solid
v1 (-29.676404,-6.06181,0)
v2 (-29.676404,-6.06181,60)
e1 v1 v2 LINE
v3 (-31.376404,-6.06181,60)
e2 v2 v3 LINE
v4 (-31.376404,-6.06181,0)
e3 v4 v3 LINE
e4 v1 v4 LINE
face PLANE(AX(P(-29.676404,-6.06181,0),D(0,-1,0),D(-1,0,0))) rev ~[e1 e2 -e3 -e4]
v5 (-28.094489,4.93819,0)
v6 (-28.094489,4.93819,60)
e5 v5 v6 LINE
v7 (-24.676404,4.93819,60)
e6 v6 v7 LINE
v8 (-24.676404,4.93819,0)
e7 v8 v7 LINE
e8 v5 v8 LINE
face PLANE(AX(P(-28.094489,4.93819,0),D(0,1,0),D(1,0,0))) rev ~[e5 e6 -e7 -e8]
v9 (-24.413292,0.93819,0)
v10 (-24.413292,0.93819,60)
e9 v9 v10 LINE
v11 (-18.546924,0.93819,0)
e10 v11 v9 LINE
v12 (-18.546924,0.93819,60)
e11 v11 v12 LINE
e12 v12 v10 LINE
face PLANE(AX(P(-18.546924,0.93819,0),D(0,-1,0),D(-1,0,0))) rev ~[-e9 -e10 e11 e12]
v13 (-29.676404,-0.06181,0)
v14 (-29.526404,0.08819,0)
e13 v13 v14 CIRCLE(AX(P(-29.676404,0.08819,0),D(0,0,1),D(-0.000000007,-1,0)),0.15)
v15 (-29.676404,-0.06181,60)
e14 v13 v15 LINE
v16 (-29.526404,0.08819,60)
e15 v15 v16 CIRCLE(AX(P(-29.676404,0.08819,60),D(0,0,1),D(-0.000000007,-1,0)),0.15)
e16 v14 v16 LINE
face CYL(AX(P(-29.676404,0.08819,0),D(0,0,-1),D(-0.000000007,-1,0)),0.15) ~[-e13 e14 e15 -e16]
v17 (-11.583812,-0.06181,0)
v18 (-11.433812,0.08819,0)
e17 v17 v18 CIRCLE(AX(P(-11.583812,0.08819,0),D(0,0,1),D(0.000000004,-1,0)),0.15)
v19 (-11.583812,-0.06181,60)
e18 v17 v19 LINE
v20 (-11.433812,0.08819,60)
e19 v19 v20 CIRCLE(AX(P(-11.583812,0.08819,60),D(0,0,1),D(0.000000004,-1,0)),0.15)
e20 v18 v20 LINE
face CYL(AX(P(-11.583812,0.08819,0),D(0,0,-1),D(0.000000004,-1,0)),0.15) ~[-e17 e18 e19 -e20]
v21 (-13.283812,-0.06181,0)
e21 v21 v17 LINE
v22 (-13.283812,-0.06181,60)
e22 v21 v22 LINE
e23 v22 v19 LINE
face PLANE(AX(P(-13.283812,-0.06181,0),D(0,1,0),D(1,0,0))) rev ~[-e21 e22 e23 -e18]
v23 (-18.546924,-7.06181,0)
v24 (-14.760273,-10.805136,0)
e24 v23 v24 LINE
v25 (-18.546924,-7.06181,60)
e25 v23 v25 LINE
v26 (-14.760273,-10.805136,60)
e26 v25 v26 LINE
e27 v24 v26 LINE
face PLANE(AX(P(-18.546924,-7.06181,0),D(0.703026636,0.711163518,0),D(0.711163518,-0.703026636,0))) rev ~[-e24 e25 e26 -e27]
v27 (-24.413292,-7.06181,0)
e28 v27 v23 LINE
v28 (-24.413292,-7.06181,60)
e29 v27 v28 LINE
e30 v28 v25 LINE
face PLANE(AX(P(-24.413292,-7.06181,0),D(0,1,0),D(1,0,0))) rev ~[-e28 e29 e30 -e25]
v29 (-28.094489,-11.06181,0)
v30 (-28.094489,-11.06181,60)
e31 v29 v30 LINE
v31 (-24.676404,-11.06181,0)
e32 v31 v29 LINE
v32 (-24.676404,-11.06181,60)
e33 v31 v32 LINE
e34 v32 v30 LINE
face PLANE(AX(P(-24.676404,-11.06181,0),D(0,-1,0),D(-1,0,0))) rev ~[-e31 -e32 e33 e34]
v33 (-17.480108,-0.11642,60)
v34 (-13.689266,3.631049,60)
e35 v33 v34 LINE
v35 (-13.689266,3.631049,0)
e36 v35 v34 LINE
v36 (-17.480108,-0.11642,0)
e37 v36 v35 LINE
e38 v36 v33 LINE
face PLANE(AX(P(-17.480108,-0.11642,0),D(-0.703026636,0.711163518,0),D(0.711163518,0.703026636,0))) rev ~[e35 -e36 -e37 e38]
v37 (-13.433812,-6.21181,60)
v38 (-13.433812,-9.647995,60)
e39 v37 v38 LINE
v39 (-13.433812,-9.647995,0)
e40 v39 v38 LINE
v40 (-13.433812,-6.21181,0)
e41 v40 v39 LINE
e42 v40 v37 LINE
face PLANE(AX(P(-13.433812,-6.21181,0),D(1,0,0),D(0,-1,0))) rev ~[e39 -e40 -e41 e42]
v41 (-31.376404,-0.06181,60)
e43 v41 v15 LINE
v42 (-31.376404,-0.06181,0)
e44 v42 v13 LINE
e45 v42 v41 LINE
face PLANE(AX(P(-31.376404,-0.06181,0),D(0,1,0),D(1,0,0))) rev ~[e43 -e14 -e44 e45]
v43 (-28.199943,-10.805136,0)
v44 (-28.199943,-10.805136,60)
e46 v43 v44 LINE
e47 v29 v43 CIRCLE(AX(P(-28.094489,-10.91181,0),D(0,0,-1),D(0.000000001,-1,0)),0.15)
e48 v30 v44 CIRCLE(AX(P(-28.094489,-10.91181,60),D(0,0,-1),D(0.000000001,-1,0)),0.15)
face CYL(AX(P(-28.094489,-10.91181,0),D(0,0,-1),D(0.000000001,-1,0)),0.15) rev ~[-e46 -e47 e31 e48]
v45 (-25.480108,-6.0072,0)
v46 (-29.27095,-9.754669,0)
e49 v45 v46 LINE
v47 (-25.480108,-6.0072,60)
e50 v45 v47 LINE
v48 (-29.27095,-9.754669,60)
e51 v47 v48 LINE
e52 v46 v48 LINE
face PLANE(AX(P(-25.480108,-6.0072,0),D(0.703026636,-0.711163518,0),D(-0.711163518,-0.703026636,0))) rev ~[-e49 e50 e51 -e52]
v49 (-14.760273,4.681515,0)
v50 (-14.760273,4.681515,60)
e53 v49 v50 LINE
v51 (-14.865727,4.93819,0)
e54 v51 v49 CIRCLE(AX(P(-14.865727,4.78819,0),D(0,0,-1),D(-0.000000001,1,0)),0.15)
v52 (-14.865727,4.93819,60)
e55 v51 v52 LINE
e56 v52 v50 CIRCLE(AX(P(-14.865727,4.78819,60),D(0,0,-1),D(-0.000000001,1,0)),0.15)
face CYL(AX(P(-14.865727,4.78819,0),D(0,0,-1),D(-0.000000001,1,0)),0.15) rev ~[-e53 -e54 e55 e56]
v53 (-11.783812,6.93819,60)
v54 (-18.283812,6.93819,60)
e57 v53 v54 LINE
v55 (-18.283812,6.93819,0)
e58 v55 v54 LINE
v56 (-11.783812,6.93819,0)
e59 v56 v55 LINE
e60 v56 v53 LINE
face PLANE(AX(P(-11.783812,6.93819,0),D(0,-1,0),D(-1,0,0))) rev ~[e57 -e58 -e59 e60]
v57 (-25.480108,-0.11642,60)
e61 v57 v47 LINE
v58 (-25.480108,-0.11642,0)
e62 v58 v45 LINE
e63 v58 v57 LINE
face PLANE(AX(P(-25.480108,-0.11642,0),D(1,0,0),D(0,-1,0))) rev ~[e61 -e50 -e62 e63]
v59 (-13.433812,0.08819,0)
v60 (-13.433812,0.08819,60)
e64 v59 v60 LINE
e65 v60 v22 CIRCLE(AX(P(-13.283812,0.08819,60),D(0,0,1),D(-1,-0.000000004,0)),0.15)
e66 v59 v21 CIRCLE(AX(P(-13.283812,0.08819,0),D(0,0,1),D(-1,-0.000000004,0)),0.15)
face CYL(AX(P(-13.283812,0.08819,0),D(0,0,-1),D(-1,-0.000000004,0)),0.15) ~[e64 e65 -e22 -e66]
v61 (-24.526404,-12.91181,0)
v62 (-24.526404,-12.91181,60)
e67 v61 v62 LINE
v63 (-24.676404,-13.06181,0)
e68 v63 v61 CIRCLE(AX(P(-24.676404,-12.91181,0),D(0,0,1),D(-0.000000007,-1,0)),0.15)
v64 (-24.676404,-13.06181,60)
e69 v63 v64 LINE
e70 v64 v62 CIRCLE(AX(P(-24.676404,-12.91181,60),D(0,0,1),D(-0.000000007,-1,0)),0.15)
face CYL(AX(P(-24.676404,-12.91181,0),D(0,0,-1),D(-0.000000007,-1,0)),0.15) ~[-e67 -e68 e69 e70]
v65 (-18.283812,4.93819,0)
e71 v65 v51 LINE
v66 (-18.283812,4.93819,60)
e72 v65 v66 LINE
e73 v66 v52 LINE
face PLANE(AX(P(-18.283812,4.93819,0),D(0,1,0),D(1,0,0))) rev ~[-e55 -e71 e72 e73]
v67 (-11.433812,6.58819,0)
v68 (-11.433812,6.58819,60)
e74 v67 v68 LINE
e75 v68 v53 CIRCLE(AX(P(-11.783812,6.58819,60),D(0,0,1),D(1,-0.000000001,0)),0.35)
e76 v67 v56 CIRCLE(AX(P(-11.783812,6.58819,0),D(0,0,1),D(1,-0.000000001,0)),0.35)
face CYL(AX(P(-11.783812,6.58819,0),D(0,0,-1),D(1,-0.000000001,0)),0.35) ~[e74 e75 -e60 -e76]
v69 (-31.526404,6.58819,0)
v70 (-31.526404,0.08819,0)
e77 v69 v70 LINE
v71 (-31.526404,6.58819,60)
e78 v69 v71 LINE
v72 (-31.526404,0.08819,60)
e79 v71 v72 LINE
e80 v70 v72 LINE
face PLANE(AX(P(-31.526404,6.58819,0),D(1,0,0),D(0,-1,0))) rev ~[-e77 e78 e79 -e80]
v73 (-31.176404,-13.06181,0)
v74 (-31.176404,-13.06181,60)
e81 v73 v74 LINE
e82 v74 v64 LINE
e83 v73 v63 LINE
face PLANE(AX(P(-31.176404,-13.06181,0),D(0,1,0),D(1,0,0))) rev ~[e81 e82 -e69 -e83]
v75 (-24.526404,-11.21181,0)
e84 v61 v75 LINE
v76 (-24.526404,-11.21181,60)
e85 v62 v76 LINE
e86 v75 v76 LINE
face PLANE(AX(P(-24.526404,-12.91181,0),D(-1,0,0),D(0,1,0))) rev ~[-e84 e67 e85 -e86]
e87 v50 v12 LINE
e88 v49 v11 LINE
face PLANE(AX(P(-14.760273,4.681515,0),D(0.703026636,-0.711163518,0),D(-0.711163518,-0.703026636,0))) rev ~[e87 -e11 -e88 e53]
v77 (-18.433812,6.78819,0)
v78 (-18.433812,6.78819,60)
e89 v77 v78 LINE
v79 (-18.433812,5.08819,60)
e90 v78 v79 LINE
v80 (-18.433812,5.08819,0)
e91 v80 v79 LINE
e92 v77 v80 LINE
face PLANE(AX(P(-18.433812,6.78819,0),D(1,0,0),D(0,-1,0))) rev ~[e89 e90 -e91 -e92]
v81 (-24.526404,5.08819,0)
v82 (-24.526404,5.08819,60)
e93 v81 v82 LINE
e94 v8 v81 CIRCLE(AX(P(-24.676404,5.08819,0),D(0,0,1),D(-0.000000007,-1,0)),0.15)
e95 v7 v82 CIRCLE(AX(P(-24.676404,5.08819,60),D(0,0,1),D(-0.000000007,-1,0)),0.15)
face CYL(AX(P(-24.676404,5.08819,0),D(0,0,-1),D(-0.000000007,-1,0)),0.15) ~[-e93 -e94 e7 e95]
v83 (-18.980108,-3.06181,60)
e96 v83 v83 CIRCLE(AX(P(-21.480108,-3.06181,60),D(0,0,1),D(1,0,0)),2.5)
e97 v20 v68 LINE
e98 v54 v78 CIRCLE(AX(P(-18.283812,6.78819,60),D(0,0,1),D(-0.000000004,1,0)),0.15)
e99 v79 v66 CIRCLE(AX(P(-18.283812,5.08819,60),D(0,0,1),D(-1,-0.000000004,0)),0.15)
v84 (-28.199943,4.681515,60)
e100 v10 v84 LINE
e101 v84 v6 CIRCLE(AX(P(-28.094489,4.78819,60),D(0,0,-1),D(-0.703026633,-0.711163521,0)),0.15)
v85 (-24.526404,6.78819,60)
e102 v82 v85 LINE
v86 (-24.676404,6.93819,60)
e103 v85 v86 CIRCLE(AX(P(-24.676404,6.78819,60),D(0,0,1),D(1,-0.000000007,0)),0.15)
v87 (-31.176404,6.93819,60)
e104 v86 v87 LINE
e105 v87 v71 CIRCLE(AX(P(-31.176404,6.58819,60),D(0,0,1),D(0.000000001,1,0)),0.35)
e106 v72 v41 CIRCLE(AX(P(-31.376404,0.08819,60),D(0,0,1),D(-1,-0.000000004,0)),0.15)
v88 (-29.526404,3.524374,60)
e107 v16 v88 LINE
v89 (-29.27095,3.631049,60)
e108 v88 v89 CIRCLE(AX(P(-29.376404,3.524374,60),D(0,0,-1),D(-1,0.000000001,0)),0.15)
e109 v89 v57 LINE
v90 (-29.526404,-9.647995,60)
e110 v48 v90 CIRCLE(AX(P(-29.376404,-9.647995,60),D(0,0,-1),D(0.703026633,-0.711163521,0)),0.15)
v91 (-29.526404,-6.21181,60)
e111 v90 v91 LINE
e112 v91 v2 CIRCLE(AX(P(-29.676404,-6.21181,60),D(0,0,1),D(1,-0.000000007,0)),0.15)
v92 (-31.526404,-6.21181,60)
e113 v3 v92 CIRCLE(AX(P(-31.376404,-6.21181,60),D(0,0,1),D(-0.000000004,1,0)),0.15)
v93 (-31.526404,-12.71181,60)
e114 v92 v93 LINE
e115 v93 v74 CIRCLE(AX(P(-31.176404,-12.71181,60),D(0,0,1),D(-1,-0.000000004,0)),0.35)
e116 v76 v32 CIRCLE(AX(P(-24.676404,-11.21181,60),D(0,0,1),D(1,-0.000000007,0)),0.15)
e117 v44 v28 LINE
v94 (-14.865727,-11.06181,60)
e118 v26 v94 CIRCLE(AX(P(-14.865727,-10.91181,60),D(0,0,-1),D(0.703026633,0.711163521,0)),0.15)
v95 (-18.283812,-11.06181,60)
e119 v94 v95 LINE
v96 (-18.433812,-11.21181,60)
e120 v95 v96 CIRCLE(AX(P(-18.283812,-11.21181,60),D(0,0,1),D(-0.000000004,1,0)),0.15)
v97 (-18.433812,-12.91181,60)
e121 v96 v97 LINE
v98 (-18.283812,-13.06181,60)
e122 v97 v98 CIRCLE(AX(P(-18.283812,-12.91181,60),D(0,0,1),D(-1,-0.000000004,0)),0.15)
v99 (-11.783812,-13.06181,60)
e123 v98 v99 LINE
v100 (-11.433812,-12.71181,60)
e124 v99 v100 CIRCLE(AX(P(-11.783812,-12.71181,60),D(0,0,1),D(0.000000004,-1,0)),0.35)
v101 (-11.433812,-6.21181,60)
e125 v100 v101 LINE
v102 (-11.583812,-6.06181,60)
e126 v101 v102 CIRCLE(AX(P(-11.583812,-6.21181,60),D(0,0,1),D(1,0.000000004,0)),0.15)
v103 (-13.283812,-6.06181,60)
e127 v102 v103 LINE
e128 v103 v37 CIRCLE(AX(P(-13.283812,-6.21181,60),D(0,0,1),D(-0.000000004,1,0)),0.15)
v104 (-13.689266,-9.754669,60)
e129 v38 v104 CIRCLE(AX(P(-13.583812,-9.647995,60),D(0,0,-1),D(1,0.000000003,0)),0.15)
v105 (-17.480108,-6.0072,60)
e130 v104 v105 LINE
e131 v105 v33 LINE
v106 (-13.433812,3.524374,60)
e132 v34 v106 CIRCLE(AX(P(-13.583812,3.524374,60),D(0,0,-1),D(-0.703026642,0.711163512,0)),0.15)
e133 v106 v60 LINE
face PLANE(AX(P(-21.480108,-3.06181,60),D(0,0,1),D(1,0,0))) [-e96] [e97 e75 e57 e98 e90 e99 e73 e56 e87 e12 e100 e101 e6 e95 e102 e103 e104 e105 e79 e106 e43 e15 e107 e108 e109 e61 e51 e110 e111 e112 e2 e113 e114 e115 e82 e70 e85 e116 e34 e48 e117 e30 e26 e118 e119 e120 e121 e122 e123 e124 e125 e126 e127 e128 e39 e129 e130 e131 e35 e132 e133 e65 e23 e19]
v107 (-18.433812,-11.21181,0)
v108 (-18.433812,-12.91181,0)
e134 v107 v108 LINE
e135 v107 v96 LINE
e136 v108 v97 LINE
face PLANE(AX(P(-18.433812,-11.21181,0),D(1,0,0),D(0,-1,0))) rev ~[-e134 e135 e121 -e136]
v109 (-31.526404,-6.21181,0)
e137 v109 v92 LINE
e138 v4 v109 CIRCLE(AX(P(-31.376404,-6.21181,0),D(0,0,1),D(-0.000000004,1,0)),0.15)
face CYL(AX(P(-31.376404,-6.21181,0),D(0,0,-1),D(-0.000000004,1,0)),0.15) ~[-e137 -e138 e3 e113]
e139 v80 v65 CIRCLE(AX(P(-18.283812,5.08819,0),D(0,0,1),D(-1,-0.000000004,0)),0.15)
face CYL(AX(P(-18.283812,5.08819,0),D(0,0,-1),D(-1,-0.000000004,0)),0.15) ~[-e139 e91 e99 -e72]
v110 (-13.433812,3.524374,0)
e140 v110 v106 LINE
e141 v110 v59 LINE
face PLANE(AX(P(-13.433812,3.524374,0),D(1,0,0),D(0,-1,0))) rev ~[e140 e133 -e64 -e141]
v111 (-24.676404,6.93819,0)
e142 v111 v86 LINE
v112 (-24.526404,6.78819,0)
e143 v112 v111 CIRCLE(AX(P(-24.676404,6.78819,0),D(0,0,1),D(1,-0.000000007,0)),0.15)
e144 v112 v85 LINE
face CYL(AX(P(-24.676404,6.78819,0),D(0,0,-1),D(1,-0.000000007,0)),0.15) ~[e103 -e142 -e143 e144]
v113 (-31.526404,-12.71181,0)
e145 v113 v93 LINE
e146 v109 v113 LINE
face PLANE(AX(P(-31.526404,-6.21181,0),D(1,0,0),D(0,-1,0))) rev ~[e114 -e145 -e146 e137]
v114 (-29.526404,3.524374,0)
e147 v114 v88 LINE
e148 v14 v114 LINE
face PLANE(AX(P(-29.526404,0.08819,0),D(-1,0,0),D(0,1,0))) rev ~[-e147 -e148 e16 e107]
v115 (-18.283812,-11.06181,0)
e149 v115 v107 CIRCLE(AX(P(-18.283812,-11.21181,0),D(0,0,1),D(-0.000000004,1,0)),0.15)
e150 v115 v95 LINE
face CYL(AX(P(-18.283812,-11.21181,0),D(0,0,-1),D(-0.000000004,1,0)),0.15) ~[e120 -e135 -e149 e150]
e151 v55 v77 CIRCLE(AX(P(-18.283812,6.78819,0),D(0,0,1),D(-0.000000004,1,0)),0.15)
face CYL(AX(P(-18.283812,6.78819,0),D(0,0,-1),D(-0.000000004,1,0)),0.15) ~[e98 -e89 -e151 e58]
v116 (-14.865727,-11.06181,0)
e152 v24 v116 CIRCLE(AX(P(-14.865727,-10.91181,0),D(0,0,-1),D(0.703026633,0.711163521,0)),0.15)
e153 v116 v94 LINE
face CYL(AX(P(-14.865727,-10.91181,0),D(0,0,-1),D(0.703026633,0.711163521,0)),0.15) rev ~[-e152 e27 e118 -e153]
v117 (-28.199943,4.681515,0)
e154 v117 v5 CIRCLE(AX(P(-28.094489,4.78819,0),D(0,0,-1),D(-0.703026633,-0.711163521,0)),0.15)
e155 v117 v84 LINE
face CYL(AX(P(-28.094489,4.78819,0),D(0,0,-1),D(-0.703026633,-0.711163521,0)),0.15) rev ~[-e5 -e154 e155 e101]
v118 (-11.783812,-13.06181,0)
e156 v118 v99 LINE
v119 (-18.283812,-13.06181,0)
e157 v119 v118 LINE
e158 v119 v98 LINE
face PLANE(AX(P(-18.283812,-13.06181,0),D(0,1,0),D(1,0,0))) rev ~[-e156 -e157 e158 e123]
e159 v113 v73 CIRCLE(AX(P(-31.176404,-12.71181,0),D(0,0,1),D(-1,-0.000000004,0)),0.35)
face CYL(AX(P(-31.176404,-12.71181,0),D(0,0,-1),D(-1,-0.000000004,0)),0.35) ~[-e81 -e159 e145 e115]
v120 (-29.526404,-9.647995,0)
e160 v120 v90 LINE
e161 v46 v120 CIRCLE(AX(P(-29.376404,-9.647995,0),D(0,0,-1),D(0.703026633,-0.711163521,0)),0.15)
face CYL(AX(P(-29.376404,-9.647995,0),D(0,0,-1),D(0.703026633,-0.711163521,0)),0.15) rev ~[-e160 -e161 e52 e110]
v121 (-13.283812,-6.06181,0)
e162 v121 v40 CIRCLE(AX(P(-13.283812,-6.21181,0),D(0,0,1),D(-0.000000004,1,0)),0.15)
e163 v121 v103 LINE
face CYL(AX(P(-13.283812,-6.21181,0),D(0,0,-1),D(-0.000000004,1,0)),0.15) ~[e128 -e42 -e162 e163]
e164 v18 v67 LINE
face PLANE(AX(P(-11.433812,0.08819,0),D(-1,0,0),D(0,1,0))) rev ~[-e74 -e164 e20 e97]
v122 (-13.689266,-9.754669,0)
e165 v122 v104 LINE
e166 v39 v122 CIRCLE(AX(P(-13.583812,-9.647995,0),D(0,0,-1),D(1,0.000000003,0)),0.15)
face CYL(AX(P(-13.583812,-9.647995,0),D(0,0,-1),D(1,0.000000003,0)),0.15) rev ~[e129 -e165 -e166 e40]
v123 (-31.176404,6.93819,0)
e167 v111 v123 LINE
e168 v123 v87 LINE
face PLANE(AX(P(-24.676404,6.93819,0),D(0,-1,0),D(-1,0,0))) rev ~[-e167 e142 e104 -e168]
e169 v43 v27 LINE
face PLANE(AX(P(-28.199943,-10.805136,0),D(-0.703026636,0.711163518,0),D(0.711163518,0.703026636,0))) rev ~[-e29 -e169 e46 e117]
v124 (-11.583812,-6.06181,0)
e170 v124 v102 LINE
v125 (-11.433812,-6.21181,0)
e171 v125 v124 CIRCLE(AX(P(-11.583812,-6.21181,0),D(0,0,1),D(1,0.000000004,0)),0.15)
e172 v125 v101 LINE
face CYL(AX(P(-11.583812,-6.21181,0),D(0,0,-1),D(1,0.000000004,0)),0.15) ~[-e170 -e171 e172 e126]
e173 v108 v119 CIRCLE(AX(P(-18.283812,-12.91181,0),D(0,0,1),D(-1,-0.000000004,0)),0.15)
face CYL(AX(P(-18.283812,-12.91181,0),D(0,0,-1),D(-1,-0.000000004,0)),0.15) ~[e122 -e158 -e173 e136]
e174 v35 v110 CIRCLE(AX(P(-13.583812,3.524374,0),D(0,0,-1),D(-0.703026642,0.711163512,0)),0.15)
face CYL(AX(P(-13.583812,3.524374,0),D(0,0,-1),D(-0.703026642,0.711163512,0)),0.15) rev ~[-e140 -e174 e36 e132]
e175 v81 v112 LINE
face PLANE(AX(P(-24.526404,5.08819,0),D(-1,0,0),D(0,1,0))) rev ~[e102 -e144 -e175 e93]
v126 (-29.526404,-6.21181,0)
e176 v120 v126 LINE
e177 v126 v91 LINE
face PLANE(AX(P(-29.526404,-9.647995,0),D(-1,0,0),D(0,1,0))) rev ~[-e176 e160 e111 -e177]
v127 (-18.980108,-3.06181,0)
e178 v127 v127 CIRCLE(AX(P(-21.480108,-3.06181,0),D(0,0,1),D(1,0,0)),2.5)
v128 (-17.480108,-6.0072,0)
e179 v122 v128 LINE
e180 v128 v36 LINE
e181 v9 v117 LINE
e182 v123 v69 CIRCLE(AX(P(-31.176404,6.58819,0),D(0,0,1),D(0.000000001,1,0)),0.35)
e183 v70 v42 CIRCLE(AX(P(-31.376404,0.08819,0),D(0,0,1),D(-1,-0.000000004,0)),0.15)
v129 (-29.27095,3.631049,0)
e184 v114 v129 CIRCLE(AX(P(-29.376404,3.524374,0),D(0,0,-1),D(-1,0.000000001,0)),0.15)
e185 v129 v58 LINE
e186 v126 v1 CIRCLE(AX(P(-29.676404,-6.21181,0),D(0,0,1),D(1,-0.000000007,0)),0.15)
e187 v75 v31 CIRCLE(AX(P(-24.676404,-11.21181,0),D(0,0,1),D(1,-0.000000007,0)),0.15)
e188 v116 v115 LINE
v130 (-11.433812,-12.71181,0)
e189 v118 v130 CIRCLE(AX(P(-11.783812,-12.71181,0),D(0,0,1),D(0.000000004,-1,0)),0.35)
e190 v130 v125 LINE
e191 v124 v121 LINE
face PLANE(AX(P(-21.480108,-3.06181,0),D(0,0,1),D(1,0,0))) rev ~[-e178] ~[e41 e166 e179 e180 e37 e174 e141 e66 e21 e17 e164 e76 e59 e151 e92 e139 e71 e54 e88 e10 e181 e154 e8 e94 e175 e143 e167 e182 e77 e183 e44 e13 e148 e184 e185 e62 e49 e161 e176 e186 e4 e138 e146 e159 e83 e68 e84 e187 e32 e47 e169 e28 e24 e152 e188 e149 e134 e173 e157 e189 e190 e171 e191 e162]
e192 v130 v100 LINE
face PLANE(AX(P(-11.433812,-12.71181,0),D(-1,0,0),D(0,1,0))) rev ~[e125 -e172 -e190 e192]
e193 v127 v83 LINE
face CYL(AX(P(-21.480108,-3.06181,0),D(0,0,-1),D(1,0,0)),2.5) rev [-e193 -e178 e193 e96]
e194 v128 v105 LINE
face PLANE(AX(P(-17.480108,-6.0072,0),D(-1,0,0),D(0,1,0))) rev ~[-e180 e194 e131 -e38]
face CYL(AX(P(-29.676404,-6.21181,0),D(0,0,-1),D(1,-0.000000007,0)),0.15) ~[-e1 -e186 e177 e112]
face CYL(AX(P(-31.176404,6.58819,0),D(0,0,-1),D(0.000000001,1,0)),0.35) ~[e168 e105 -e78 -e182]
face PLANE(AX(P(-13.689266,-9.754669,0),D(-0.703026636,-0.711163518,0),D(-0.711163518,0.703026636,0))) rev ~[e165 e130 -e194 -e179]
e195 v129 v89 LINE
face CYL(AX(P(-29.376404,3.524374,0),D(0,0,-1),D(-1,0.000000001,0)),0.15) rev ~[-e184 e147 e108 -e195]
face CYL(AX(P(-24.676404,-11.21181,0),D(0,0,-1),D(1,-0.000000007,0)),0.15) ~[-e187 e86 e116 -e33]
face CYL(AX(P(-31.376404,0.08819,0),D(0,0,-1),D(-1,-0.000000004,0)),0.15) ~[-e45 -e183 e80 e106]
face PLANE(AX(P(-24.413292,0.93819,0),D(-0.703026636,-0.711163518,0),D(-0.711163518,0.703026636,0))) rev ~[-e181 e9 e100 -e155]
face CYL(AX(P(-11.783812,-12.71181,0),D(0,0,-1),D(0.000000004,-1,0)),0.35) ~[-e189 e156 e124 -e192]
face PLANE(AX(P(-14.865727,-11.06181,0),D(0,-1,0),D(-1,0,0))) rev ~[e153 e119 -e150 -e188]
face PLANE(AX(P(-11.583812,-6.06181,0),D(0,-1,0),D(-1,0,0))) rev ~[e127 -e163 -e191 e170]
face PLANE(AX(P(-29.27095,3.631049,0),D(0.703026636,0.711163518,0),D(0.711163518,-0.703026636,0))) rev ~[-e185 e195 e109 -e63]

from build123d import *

# Parameters (mm, degrees)
SKETCH1_R           = 2.5
BOSS_EXTRUDE1_DEPTH = 60


with BuildPart() as part:
    # Sketch1 → Boss-Extrude1 (new body)
    with BuildSketch(Plane.XY):
        with BuildLine():
            Line((-31.376404226, -0.06181021), (-29.676404226, -0.06181021))
            ThreePointArc((-29.676404226, -0.06181021), (-29.570338208, -0.017876227), (-29.526404226, 0.08818979))
            Line((-29.526404226, 0.08818979), (-29.526404226, 3.524374304))
            ThreePointArc((-29.526404226, 3.524374304), (-29.43420518, 3.662790523), (-29.27095023, 3.631048831))
            Line((-29.27095023, 3.631048831), (-25.480107929, -0.116419988))
            Line((-25.480107929, -0.116419988), (-25.480107929, -6.007200432))
            Line((-25.480107929, -6.007200432), (-29.27095023, -9.754669251))
            ThreePointArc((-29.27095023, -9.754669251), (-29.43420518, -9.786410942), (-29.526404226, -9.647994723))
            Line((-29.526404226, -9.647994723), (-29.526404226, -6.21181021))
            ThreePointArc((-29.526404226, -6.21181021), (-29.570338208, -6.105744193), (-29.676404226, -6.06181021))
            Line((-29.676404226, -6.06181021), (-31.376404226, -6.06181021))
            ThreePointArc((-31.376404226, -6.06181021), (-31.482470243, -6.105744193), (-31.526404226, -6.21181021))
            Line((-31.526404226, -6.21181021), (-31.526404226, -12.71181021))
            ThreePointArc((-31.526404226, -12.71181021), (-31.423891599, -12.959297583), (-31.176404226, -13.06181021))
            Line((-31.176404226, -13.06181021), (-24.676404226, -13.06181021))
            ThreePointArc((-24.676404226, -13.06181021), (-24.570338208, -13.017876227), (-24.526404226, -12.91181021))
            Line((-24.526404226, -12.91181021), (-24.526404226, -11.21181021))
            ThreePointArc((-24.526404226, -11.21181021), (-24.570338208, -11.105744193), (-24.676404226, -11.06181021))
            Line((-24.676404226, -11.06181021), (-28.094489023, -11.06181021))
            ThreePointArc((-28.094489023, -11.06181021), (-28.233235517, -10.96881381), (-28.199943018, -10.805135682))
            Line((-28.199943018, -10.805135682), (-24.41329202, -7.06181021))
            Line((-24.41329202, -7.06181021), (-18.546923839, -7.06181021))
            Line((-18.546923839, -7.06181021), (-14.760272841, -10.805135682))
            ThreePointArc((-14.760272841, -10.805135682), (-14.726980342, -10.96881381), (-14.865726836, -11.06181021))
            Line((-14.865726836, -11.06181021), (-18.283811633, -11.06181021))
            ThreePointArc((-18.283811633, -11.06181021), (-18.38987765, -11.105744193), (-18.433811633, -11.21181021))
            Line((-18.433811633, -11.21181021), (-18.433811633, -12.91181021))
            ThreePointArc((-18.433811633, -12.91181021), (-18.38987765, -13.017876227), (-18.283811633, -13.06181021))
            Line((-18.283811633, -13.06181021), (-11.783811633, -13.06181021))
            ThreePointArc((-11.783811633, -13.06181021), (-11.53632426, -12.959297583), (-11.433811633, -12.71181021))
            Line((-11.433811633, -12.71181021), (-11.433811633, -6.21181021))
            ThreePointArc((-11.433811633, -6.21181021), (-11.477745616, -6.105744193), (-11.583811633, -6.06181021))
            Line((-11.583811633, -6.06181021), (-13.283811633, -6.06181021))
            ThreePointArc((-13.283811633, -6.06181021), (-13.38987765, -6.105744193), (-13.433811633, -6.21181021))
            Line((-13.433811633, -6.21181021), (-13.433811633, -9.647994723))
            ThreePointArc((-13.433811633, -9.647994723), (-13.526010678, -9.786410942), (-13.689265628, -9.754669251))
            Line((-13.689265628, -9.754669251), (-17.480107929, -6.007200432))
            Line((-17.480107929, -6.007200432), (-17.480107929, -0.116419988))
            Line((-17.480107929, -0.116419988), (-13.689265628, 3.631048831))
            ThreePointArc((-13.689265628, 3.631048831), (-13.526010678, 3.662790523), (-13.433811633, 3.524374304))
            Line((-13.433811633, 3.524374304), (-13.433811633, 0.08818979))
            ThreePointArc((-13.433811633, 0.08818979), (-13.38987765, -0.017876227), (-13.283811633, -0.06181021))
            Line((-13.283811633, -0.06181021), (-11.583811633, -0.06181021))
            ThreePointArc((-11.583811633, -0.06181021), (-11.477745616, -0.017876227), (-11.433811633, 0.08818979))
            Line((-11.433811633, 0.08818979), (-11.433811633, 6.58818979))
            ThreePointArc((-11.433811633, 6.58818979), (-11.53632426, 6.835677164), (-11.783811633, 6.93818979))
            Line((-11.783811633, 6.93818979), (-18.283811633, 6.93818979))
            ThreePointArc((-18.283811633, 6.93818979), (-18.38987765, 6.894255807), (-18.433811633, 6.78818979))
            Line((-18.433811633, 6.78818979), (-18.433811633, 5.08818979))
            ThreePointArc((-18.433811633, 5.08818979), (-18.38987765, 4.982123773), (-18.283811633, 4.93818979))
            Line((-18.283811633, 4.93818979), (-14.865726836, 4.93818979))
            ThreePointArc((-14.865726836, 4.93818979), (-14.726980342, 4.84519339), (-14.760272841, 4.681515262))
            Line((-14.760272841, 4.681515262), (-18.546923839, 0.93818979))
            Line((-18.546923839, 0.93818979), (-24.41329202, 0.93818979))
            Line((-24.41329202, 0.93818979), (-28.199943018, 4.681515262))
            ThreePointArc((-28.199943018, 4.681515262), (-28.233235517, 4.84519339), (-28.094489023, 4.93818979))
            Line((-28.094489023, 4.93818979), (-24.676404226, 4.93818979))
            ThreePointArc((-24.676404226, 4.93818979), (-24.570338208, 4.982123773), (-24.526404226, 5.08818979))
            Line((-24.526404226, 5.08818979), (-24.526404226, 6.78818979))
            ThreePointArc((-24.526404226, 6.78818979), (-24.570338208, 6.894255807), (-24.676404226, 6.93818979))
            Line((-24.676404226, 6.93818979), (-31.176404226, 6.93818979))
            ThreePointArc((-31.176404226, 6.93818979), (-31.423891599, 6.835677164), (-31.526404226, 6.58818979))
            Line((-31.526404226, 6.58818979), (-31.526404226, 0.08818979))
            ThreePointArc((-31.526404226, 0.08818979), (-31.482470243, -0.017876227), (-31.376404226, -0.06181021))
        make_face()
        with Locations((-21.480107929, -3.06181021)):
            Circle(SKETCH1_R, mode=Mode.SUBTRACT)
    extrude(amount=BOSS_EXTRUDE1_DEPTH)


solid = part.part
